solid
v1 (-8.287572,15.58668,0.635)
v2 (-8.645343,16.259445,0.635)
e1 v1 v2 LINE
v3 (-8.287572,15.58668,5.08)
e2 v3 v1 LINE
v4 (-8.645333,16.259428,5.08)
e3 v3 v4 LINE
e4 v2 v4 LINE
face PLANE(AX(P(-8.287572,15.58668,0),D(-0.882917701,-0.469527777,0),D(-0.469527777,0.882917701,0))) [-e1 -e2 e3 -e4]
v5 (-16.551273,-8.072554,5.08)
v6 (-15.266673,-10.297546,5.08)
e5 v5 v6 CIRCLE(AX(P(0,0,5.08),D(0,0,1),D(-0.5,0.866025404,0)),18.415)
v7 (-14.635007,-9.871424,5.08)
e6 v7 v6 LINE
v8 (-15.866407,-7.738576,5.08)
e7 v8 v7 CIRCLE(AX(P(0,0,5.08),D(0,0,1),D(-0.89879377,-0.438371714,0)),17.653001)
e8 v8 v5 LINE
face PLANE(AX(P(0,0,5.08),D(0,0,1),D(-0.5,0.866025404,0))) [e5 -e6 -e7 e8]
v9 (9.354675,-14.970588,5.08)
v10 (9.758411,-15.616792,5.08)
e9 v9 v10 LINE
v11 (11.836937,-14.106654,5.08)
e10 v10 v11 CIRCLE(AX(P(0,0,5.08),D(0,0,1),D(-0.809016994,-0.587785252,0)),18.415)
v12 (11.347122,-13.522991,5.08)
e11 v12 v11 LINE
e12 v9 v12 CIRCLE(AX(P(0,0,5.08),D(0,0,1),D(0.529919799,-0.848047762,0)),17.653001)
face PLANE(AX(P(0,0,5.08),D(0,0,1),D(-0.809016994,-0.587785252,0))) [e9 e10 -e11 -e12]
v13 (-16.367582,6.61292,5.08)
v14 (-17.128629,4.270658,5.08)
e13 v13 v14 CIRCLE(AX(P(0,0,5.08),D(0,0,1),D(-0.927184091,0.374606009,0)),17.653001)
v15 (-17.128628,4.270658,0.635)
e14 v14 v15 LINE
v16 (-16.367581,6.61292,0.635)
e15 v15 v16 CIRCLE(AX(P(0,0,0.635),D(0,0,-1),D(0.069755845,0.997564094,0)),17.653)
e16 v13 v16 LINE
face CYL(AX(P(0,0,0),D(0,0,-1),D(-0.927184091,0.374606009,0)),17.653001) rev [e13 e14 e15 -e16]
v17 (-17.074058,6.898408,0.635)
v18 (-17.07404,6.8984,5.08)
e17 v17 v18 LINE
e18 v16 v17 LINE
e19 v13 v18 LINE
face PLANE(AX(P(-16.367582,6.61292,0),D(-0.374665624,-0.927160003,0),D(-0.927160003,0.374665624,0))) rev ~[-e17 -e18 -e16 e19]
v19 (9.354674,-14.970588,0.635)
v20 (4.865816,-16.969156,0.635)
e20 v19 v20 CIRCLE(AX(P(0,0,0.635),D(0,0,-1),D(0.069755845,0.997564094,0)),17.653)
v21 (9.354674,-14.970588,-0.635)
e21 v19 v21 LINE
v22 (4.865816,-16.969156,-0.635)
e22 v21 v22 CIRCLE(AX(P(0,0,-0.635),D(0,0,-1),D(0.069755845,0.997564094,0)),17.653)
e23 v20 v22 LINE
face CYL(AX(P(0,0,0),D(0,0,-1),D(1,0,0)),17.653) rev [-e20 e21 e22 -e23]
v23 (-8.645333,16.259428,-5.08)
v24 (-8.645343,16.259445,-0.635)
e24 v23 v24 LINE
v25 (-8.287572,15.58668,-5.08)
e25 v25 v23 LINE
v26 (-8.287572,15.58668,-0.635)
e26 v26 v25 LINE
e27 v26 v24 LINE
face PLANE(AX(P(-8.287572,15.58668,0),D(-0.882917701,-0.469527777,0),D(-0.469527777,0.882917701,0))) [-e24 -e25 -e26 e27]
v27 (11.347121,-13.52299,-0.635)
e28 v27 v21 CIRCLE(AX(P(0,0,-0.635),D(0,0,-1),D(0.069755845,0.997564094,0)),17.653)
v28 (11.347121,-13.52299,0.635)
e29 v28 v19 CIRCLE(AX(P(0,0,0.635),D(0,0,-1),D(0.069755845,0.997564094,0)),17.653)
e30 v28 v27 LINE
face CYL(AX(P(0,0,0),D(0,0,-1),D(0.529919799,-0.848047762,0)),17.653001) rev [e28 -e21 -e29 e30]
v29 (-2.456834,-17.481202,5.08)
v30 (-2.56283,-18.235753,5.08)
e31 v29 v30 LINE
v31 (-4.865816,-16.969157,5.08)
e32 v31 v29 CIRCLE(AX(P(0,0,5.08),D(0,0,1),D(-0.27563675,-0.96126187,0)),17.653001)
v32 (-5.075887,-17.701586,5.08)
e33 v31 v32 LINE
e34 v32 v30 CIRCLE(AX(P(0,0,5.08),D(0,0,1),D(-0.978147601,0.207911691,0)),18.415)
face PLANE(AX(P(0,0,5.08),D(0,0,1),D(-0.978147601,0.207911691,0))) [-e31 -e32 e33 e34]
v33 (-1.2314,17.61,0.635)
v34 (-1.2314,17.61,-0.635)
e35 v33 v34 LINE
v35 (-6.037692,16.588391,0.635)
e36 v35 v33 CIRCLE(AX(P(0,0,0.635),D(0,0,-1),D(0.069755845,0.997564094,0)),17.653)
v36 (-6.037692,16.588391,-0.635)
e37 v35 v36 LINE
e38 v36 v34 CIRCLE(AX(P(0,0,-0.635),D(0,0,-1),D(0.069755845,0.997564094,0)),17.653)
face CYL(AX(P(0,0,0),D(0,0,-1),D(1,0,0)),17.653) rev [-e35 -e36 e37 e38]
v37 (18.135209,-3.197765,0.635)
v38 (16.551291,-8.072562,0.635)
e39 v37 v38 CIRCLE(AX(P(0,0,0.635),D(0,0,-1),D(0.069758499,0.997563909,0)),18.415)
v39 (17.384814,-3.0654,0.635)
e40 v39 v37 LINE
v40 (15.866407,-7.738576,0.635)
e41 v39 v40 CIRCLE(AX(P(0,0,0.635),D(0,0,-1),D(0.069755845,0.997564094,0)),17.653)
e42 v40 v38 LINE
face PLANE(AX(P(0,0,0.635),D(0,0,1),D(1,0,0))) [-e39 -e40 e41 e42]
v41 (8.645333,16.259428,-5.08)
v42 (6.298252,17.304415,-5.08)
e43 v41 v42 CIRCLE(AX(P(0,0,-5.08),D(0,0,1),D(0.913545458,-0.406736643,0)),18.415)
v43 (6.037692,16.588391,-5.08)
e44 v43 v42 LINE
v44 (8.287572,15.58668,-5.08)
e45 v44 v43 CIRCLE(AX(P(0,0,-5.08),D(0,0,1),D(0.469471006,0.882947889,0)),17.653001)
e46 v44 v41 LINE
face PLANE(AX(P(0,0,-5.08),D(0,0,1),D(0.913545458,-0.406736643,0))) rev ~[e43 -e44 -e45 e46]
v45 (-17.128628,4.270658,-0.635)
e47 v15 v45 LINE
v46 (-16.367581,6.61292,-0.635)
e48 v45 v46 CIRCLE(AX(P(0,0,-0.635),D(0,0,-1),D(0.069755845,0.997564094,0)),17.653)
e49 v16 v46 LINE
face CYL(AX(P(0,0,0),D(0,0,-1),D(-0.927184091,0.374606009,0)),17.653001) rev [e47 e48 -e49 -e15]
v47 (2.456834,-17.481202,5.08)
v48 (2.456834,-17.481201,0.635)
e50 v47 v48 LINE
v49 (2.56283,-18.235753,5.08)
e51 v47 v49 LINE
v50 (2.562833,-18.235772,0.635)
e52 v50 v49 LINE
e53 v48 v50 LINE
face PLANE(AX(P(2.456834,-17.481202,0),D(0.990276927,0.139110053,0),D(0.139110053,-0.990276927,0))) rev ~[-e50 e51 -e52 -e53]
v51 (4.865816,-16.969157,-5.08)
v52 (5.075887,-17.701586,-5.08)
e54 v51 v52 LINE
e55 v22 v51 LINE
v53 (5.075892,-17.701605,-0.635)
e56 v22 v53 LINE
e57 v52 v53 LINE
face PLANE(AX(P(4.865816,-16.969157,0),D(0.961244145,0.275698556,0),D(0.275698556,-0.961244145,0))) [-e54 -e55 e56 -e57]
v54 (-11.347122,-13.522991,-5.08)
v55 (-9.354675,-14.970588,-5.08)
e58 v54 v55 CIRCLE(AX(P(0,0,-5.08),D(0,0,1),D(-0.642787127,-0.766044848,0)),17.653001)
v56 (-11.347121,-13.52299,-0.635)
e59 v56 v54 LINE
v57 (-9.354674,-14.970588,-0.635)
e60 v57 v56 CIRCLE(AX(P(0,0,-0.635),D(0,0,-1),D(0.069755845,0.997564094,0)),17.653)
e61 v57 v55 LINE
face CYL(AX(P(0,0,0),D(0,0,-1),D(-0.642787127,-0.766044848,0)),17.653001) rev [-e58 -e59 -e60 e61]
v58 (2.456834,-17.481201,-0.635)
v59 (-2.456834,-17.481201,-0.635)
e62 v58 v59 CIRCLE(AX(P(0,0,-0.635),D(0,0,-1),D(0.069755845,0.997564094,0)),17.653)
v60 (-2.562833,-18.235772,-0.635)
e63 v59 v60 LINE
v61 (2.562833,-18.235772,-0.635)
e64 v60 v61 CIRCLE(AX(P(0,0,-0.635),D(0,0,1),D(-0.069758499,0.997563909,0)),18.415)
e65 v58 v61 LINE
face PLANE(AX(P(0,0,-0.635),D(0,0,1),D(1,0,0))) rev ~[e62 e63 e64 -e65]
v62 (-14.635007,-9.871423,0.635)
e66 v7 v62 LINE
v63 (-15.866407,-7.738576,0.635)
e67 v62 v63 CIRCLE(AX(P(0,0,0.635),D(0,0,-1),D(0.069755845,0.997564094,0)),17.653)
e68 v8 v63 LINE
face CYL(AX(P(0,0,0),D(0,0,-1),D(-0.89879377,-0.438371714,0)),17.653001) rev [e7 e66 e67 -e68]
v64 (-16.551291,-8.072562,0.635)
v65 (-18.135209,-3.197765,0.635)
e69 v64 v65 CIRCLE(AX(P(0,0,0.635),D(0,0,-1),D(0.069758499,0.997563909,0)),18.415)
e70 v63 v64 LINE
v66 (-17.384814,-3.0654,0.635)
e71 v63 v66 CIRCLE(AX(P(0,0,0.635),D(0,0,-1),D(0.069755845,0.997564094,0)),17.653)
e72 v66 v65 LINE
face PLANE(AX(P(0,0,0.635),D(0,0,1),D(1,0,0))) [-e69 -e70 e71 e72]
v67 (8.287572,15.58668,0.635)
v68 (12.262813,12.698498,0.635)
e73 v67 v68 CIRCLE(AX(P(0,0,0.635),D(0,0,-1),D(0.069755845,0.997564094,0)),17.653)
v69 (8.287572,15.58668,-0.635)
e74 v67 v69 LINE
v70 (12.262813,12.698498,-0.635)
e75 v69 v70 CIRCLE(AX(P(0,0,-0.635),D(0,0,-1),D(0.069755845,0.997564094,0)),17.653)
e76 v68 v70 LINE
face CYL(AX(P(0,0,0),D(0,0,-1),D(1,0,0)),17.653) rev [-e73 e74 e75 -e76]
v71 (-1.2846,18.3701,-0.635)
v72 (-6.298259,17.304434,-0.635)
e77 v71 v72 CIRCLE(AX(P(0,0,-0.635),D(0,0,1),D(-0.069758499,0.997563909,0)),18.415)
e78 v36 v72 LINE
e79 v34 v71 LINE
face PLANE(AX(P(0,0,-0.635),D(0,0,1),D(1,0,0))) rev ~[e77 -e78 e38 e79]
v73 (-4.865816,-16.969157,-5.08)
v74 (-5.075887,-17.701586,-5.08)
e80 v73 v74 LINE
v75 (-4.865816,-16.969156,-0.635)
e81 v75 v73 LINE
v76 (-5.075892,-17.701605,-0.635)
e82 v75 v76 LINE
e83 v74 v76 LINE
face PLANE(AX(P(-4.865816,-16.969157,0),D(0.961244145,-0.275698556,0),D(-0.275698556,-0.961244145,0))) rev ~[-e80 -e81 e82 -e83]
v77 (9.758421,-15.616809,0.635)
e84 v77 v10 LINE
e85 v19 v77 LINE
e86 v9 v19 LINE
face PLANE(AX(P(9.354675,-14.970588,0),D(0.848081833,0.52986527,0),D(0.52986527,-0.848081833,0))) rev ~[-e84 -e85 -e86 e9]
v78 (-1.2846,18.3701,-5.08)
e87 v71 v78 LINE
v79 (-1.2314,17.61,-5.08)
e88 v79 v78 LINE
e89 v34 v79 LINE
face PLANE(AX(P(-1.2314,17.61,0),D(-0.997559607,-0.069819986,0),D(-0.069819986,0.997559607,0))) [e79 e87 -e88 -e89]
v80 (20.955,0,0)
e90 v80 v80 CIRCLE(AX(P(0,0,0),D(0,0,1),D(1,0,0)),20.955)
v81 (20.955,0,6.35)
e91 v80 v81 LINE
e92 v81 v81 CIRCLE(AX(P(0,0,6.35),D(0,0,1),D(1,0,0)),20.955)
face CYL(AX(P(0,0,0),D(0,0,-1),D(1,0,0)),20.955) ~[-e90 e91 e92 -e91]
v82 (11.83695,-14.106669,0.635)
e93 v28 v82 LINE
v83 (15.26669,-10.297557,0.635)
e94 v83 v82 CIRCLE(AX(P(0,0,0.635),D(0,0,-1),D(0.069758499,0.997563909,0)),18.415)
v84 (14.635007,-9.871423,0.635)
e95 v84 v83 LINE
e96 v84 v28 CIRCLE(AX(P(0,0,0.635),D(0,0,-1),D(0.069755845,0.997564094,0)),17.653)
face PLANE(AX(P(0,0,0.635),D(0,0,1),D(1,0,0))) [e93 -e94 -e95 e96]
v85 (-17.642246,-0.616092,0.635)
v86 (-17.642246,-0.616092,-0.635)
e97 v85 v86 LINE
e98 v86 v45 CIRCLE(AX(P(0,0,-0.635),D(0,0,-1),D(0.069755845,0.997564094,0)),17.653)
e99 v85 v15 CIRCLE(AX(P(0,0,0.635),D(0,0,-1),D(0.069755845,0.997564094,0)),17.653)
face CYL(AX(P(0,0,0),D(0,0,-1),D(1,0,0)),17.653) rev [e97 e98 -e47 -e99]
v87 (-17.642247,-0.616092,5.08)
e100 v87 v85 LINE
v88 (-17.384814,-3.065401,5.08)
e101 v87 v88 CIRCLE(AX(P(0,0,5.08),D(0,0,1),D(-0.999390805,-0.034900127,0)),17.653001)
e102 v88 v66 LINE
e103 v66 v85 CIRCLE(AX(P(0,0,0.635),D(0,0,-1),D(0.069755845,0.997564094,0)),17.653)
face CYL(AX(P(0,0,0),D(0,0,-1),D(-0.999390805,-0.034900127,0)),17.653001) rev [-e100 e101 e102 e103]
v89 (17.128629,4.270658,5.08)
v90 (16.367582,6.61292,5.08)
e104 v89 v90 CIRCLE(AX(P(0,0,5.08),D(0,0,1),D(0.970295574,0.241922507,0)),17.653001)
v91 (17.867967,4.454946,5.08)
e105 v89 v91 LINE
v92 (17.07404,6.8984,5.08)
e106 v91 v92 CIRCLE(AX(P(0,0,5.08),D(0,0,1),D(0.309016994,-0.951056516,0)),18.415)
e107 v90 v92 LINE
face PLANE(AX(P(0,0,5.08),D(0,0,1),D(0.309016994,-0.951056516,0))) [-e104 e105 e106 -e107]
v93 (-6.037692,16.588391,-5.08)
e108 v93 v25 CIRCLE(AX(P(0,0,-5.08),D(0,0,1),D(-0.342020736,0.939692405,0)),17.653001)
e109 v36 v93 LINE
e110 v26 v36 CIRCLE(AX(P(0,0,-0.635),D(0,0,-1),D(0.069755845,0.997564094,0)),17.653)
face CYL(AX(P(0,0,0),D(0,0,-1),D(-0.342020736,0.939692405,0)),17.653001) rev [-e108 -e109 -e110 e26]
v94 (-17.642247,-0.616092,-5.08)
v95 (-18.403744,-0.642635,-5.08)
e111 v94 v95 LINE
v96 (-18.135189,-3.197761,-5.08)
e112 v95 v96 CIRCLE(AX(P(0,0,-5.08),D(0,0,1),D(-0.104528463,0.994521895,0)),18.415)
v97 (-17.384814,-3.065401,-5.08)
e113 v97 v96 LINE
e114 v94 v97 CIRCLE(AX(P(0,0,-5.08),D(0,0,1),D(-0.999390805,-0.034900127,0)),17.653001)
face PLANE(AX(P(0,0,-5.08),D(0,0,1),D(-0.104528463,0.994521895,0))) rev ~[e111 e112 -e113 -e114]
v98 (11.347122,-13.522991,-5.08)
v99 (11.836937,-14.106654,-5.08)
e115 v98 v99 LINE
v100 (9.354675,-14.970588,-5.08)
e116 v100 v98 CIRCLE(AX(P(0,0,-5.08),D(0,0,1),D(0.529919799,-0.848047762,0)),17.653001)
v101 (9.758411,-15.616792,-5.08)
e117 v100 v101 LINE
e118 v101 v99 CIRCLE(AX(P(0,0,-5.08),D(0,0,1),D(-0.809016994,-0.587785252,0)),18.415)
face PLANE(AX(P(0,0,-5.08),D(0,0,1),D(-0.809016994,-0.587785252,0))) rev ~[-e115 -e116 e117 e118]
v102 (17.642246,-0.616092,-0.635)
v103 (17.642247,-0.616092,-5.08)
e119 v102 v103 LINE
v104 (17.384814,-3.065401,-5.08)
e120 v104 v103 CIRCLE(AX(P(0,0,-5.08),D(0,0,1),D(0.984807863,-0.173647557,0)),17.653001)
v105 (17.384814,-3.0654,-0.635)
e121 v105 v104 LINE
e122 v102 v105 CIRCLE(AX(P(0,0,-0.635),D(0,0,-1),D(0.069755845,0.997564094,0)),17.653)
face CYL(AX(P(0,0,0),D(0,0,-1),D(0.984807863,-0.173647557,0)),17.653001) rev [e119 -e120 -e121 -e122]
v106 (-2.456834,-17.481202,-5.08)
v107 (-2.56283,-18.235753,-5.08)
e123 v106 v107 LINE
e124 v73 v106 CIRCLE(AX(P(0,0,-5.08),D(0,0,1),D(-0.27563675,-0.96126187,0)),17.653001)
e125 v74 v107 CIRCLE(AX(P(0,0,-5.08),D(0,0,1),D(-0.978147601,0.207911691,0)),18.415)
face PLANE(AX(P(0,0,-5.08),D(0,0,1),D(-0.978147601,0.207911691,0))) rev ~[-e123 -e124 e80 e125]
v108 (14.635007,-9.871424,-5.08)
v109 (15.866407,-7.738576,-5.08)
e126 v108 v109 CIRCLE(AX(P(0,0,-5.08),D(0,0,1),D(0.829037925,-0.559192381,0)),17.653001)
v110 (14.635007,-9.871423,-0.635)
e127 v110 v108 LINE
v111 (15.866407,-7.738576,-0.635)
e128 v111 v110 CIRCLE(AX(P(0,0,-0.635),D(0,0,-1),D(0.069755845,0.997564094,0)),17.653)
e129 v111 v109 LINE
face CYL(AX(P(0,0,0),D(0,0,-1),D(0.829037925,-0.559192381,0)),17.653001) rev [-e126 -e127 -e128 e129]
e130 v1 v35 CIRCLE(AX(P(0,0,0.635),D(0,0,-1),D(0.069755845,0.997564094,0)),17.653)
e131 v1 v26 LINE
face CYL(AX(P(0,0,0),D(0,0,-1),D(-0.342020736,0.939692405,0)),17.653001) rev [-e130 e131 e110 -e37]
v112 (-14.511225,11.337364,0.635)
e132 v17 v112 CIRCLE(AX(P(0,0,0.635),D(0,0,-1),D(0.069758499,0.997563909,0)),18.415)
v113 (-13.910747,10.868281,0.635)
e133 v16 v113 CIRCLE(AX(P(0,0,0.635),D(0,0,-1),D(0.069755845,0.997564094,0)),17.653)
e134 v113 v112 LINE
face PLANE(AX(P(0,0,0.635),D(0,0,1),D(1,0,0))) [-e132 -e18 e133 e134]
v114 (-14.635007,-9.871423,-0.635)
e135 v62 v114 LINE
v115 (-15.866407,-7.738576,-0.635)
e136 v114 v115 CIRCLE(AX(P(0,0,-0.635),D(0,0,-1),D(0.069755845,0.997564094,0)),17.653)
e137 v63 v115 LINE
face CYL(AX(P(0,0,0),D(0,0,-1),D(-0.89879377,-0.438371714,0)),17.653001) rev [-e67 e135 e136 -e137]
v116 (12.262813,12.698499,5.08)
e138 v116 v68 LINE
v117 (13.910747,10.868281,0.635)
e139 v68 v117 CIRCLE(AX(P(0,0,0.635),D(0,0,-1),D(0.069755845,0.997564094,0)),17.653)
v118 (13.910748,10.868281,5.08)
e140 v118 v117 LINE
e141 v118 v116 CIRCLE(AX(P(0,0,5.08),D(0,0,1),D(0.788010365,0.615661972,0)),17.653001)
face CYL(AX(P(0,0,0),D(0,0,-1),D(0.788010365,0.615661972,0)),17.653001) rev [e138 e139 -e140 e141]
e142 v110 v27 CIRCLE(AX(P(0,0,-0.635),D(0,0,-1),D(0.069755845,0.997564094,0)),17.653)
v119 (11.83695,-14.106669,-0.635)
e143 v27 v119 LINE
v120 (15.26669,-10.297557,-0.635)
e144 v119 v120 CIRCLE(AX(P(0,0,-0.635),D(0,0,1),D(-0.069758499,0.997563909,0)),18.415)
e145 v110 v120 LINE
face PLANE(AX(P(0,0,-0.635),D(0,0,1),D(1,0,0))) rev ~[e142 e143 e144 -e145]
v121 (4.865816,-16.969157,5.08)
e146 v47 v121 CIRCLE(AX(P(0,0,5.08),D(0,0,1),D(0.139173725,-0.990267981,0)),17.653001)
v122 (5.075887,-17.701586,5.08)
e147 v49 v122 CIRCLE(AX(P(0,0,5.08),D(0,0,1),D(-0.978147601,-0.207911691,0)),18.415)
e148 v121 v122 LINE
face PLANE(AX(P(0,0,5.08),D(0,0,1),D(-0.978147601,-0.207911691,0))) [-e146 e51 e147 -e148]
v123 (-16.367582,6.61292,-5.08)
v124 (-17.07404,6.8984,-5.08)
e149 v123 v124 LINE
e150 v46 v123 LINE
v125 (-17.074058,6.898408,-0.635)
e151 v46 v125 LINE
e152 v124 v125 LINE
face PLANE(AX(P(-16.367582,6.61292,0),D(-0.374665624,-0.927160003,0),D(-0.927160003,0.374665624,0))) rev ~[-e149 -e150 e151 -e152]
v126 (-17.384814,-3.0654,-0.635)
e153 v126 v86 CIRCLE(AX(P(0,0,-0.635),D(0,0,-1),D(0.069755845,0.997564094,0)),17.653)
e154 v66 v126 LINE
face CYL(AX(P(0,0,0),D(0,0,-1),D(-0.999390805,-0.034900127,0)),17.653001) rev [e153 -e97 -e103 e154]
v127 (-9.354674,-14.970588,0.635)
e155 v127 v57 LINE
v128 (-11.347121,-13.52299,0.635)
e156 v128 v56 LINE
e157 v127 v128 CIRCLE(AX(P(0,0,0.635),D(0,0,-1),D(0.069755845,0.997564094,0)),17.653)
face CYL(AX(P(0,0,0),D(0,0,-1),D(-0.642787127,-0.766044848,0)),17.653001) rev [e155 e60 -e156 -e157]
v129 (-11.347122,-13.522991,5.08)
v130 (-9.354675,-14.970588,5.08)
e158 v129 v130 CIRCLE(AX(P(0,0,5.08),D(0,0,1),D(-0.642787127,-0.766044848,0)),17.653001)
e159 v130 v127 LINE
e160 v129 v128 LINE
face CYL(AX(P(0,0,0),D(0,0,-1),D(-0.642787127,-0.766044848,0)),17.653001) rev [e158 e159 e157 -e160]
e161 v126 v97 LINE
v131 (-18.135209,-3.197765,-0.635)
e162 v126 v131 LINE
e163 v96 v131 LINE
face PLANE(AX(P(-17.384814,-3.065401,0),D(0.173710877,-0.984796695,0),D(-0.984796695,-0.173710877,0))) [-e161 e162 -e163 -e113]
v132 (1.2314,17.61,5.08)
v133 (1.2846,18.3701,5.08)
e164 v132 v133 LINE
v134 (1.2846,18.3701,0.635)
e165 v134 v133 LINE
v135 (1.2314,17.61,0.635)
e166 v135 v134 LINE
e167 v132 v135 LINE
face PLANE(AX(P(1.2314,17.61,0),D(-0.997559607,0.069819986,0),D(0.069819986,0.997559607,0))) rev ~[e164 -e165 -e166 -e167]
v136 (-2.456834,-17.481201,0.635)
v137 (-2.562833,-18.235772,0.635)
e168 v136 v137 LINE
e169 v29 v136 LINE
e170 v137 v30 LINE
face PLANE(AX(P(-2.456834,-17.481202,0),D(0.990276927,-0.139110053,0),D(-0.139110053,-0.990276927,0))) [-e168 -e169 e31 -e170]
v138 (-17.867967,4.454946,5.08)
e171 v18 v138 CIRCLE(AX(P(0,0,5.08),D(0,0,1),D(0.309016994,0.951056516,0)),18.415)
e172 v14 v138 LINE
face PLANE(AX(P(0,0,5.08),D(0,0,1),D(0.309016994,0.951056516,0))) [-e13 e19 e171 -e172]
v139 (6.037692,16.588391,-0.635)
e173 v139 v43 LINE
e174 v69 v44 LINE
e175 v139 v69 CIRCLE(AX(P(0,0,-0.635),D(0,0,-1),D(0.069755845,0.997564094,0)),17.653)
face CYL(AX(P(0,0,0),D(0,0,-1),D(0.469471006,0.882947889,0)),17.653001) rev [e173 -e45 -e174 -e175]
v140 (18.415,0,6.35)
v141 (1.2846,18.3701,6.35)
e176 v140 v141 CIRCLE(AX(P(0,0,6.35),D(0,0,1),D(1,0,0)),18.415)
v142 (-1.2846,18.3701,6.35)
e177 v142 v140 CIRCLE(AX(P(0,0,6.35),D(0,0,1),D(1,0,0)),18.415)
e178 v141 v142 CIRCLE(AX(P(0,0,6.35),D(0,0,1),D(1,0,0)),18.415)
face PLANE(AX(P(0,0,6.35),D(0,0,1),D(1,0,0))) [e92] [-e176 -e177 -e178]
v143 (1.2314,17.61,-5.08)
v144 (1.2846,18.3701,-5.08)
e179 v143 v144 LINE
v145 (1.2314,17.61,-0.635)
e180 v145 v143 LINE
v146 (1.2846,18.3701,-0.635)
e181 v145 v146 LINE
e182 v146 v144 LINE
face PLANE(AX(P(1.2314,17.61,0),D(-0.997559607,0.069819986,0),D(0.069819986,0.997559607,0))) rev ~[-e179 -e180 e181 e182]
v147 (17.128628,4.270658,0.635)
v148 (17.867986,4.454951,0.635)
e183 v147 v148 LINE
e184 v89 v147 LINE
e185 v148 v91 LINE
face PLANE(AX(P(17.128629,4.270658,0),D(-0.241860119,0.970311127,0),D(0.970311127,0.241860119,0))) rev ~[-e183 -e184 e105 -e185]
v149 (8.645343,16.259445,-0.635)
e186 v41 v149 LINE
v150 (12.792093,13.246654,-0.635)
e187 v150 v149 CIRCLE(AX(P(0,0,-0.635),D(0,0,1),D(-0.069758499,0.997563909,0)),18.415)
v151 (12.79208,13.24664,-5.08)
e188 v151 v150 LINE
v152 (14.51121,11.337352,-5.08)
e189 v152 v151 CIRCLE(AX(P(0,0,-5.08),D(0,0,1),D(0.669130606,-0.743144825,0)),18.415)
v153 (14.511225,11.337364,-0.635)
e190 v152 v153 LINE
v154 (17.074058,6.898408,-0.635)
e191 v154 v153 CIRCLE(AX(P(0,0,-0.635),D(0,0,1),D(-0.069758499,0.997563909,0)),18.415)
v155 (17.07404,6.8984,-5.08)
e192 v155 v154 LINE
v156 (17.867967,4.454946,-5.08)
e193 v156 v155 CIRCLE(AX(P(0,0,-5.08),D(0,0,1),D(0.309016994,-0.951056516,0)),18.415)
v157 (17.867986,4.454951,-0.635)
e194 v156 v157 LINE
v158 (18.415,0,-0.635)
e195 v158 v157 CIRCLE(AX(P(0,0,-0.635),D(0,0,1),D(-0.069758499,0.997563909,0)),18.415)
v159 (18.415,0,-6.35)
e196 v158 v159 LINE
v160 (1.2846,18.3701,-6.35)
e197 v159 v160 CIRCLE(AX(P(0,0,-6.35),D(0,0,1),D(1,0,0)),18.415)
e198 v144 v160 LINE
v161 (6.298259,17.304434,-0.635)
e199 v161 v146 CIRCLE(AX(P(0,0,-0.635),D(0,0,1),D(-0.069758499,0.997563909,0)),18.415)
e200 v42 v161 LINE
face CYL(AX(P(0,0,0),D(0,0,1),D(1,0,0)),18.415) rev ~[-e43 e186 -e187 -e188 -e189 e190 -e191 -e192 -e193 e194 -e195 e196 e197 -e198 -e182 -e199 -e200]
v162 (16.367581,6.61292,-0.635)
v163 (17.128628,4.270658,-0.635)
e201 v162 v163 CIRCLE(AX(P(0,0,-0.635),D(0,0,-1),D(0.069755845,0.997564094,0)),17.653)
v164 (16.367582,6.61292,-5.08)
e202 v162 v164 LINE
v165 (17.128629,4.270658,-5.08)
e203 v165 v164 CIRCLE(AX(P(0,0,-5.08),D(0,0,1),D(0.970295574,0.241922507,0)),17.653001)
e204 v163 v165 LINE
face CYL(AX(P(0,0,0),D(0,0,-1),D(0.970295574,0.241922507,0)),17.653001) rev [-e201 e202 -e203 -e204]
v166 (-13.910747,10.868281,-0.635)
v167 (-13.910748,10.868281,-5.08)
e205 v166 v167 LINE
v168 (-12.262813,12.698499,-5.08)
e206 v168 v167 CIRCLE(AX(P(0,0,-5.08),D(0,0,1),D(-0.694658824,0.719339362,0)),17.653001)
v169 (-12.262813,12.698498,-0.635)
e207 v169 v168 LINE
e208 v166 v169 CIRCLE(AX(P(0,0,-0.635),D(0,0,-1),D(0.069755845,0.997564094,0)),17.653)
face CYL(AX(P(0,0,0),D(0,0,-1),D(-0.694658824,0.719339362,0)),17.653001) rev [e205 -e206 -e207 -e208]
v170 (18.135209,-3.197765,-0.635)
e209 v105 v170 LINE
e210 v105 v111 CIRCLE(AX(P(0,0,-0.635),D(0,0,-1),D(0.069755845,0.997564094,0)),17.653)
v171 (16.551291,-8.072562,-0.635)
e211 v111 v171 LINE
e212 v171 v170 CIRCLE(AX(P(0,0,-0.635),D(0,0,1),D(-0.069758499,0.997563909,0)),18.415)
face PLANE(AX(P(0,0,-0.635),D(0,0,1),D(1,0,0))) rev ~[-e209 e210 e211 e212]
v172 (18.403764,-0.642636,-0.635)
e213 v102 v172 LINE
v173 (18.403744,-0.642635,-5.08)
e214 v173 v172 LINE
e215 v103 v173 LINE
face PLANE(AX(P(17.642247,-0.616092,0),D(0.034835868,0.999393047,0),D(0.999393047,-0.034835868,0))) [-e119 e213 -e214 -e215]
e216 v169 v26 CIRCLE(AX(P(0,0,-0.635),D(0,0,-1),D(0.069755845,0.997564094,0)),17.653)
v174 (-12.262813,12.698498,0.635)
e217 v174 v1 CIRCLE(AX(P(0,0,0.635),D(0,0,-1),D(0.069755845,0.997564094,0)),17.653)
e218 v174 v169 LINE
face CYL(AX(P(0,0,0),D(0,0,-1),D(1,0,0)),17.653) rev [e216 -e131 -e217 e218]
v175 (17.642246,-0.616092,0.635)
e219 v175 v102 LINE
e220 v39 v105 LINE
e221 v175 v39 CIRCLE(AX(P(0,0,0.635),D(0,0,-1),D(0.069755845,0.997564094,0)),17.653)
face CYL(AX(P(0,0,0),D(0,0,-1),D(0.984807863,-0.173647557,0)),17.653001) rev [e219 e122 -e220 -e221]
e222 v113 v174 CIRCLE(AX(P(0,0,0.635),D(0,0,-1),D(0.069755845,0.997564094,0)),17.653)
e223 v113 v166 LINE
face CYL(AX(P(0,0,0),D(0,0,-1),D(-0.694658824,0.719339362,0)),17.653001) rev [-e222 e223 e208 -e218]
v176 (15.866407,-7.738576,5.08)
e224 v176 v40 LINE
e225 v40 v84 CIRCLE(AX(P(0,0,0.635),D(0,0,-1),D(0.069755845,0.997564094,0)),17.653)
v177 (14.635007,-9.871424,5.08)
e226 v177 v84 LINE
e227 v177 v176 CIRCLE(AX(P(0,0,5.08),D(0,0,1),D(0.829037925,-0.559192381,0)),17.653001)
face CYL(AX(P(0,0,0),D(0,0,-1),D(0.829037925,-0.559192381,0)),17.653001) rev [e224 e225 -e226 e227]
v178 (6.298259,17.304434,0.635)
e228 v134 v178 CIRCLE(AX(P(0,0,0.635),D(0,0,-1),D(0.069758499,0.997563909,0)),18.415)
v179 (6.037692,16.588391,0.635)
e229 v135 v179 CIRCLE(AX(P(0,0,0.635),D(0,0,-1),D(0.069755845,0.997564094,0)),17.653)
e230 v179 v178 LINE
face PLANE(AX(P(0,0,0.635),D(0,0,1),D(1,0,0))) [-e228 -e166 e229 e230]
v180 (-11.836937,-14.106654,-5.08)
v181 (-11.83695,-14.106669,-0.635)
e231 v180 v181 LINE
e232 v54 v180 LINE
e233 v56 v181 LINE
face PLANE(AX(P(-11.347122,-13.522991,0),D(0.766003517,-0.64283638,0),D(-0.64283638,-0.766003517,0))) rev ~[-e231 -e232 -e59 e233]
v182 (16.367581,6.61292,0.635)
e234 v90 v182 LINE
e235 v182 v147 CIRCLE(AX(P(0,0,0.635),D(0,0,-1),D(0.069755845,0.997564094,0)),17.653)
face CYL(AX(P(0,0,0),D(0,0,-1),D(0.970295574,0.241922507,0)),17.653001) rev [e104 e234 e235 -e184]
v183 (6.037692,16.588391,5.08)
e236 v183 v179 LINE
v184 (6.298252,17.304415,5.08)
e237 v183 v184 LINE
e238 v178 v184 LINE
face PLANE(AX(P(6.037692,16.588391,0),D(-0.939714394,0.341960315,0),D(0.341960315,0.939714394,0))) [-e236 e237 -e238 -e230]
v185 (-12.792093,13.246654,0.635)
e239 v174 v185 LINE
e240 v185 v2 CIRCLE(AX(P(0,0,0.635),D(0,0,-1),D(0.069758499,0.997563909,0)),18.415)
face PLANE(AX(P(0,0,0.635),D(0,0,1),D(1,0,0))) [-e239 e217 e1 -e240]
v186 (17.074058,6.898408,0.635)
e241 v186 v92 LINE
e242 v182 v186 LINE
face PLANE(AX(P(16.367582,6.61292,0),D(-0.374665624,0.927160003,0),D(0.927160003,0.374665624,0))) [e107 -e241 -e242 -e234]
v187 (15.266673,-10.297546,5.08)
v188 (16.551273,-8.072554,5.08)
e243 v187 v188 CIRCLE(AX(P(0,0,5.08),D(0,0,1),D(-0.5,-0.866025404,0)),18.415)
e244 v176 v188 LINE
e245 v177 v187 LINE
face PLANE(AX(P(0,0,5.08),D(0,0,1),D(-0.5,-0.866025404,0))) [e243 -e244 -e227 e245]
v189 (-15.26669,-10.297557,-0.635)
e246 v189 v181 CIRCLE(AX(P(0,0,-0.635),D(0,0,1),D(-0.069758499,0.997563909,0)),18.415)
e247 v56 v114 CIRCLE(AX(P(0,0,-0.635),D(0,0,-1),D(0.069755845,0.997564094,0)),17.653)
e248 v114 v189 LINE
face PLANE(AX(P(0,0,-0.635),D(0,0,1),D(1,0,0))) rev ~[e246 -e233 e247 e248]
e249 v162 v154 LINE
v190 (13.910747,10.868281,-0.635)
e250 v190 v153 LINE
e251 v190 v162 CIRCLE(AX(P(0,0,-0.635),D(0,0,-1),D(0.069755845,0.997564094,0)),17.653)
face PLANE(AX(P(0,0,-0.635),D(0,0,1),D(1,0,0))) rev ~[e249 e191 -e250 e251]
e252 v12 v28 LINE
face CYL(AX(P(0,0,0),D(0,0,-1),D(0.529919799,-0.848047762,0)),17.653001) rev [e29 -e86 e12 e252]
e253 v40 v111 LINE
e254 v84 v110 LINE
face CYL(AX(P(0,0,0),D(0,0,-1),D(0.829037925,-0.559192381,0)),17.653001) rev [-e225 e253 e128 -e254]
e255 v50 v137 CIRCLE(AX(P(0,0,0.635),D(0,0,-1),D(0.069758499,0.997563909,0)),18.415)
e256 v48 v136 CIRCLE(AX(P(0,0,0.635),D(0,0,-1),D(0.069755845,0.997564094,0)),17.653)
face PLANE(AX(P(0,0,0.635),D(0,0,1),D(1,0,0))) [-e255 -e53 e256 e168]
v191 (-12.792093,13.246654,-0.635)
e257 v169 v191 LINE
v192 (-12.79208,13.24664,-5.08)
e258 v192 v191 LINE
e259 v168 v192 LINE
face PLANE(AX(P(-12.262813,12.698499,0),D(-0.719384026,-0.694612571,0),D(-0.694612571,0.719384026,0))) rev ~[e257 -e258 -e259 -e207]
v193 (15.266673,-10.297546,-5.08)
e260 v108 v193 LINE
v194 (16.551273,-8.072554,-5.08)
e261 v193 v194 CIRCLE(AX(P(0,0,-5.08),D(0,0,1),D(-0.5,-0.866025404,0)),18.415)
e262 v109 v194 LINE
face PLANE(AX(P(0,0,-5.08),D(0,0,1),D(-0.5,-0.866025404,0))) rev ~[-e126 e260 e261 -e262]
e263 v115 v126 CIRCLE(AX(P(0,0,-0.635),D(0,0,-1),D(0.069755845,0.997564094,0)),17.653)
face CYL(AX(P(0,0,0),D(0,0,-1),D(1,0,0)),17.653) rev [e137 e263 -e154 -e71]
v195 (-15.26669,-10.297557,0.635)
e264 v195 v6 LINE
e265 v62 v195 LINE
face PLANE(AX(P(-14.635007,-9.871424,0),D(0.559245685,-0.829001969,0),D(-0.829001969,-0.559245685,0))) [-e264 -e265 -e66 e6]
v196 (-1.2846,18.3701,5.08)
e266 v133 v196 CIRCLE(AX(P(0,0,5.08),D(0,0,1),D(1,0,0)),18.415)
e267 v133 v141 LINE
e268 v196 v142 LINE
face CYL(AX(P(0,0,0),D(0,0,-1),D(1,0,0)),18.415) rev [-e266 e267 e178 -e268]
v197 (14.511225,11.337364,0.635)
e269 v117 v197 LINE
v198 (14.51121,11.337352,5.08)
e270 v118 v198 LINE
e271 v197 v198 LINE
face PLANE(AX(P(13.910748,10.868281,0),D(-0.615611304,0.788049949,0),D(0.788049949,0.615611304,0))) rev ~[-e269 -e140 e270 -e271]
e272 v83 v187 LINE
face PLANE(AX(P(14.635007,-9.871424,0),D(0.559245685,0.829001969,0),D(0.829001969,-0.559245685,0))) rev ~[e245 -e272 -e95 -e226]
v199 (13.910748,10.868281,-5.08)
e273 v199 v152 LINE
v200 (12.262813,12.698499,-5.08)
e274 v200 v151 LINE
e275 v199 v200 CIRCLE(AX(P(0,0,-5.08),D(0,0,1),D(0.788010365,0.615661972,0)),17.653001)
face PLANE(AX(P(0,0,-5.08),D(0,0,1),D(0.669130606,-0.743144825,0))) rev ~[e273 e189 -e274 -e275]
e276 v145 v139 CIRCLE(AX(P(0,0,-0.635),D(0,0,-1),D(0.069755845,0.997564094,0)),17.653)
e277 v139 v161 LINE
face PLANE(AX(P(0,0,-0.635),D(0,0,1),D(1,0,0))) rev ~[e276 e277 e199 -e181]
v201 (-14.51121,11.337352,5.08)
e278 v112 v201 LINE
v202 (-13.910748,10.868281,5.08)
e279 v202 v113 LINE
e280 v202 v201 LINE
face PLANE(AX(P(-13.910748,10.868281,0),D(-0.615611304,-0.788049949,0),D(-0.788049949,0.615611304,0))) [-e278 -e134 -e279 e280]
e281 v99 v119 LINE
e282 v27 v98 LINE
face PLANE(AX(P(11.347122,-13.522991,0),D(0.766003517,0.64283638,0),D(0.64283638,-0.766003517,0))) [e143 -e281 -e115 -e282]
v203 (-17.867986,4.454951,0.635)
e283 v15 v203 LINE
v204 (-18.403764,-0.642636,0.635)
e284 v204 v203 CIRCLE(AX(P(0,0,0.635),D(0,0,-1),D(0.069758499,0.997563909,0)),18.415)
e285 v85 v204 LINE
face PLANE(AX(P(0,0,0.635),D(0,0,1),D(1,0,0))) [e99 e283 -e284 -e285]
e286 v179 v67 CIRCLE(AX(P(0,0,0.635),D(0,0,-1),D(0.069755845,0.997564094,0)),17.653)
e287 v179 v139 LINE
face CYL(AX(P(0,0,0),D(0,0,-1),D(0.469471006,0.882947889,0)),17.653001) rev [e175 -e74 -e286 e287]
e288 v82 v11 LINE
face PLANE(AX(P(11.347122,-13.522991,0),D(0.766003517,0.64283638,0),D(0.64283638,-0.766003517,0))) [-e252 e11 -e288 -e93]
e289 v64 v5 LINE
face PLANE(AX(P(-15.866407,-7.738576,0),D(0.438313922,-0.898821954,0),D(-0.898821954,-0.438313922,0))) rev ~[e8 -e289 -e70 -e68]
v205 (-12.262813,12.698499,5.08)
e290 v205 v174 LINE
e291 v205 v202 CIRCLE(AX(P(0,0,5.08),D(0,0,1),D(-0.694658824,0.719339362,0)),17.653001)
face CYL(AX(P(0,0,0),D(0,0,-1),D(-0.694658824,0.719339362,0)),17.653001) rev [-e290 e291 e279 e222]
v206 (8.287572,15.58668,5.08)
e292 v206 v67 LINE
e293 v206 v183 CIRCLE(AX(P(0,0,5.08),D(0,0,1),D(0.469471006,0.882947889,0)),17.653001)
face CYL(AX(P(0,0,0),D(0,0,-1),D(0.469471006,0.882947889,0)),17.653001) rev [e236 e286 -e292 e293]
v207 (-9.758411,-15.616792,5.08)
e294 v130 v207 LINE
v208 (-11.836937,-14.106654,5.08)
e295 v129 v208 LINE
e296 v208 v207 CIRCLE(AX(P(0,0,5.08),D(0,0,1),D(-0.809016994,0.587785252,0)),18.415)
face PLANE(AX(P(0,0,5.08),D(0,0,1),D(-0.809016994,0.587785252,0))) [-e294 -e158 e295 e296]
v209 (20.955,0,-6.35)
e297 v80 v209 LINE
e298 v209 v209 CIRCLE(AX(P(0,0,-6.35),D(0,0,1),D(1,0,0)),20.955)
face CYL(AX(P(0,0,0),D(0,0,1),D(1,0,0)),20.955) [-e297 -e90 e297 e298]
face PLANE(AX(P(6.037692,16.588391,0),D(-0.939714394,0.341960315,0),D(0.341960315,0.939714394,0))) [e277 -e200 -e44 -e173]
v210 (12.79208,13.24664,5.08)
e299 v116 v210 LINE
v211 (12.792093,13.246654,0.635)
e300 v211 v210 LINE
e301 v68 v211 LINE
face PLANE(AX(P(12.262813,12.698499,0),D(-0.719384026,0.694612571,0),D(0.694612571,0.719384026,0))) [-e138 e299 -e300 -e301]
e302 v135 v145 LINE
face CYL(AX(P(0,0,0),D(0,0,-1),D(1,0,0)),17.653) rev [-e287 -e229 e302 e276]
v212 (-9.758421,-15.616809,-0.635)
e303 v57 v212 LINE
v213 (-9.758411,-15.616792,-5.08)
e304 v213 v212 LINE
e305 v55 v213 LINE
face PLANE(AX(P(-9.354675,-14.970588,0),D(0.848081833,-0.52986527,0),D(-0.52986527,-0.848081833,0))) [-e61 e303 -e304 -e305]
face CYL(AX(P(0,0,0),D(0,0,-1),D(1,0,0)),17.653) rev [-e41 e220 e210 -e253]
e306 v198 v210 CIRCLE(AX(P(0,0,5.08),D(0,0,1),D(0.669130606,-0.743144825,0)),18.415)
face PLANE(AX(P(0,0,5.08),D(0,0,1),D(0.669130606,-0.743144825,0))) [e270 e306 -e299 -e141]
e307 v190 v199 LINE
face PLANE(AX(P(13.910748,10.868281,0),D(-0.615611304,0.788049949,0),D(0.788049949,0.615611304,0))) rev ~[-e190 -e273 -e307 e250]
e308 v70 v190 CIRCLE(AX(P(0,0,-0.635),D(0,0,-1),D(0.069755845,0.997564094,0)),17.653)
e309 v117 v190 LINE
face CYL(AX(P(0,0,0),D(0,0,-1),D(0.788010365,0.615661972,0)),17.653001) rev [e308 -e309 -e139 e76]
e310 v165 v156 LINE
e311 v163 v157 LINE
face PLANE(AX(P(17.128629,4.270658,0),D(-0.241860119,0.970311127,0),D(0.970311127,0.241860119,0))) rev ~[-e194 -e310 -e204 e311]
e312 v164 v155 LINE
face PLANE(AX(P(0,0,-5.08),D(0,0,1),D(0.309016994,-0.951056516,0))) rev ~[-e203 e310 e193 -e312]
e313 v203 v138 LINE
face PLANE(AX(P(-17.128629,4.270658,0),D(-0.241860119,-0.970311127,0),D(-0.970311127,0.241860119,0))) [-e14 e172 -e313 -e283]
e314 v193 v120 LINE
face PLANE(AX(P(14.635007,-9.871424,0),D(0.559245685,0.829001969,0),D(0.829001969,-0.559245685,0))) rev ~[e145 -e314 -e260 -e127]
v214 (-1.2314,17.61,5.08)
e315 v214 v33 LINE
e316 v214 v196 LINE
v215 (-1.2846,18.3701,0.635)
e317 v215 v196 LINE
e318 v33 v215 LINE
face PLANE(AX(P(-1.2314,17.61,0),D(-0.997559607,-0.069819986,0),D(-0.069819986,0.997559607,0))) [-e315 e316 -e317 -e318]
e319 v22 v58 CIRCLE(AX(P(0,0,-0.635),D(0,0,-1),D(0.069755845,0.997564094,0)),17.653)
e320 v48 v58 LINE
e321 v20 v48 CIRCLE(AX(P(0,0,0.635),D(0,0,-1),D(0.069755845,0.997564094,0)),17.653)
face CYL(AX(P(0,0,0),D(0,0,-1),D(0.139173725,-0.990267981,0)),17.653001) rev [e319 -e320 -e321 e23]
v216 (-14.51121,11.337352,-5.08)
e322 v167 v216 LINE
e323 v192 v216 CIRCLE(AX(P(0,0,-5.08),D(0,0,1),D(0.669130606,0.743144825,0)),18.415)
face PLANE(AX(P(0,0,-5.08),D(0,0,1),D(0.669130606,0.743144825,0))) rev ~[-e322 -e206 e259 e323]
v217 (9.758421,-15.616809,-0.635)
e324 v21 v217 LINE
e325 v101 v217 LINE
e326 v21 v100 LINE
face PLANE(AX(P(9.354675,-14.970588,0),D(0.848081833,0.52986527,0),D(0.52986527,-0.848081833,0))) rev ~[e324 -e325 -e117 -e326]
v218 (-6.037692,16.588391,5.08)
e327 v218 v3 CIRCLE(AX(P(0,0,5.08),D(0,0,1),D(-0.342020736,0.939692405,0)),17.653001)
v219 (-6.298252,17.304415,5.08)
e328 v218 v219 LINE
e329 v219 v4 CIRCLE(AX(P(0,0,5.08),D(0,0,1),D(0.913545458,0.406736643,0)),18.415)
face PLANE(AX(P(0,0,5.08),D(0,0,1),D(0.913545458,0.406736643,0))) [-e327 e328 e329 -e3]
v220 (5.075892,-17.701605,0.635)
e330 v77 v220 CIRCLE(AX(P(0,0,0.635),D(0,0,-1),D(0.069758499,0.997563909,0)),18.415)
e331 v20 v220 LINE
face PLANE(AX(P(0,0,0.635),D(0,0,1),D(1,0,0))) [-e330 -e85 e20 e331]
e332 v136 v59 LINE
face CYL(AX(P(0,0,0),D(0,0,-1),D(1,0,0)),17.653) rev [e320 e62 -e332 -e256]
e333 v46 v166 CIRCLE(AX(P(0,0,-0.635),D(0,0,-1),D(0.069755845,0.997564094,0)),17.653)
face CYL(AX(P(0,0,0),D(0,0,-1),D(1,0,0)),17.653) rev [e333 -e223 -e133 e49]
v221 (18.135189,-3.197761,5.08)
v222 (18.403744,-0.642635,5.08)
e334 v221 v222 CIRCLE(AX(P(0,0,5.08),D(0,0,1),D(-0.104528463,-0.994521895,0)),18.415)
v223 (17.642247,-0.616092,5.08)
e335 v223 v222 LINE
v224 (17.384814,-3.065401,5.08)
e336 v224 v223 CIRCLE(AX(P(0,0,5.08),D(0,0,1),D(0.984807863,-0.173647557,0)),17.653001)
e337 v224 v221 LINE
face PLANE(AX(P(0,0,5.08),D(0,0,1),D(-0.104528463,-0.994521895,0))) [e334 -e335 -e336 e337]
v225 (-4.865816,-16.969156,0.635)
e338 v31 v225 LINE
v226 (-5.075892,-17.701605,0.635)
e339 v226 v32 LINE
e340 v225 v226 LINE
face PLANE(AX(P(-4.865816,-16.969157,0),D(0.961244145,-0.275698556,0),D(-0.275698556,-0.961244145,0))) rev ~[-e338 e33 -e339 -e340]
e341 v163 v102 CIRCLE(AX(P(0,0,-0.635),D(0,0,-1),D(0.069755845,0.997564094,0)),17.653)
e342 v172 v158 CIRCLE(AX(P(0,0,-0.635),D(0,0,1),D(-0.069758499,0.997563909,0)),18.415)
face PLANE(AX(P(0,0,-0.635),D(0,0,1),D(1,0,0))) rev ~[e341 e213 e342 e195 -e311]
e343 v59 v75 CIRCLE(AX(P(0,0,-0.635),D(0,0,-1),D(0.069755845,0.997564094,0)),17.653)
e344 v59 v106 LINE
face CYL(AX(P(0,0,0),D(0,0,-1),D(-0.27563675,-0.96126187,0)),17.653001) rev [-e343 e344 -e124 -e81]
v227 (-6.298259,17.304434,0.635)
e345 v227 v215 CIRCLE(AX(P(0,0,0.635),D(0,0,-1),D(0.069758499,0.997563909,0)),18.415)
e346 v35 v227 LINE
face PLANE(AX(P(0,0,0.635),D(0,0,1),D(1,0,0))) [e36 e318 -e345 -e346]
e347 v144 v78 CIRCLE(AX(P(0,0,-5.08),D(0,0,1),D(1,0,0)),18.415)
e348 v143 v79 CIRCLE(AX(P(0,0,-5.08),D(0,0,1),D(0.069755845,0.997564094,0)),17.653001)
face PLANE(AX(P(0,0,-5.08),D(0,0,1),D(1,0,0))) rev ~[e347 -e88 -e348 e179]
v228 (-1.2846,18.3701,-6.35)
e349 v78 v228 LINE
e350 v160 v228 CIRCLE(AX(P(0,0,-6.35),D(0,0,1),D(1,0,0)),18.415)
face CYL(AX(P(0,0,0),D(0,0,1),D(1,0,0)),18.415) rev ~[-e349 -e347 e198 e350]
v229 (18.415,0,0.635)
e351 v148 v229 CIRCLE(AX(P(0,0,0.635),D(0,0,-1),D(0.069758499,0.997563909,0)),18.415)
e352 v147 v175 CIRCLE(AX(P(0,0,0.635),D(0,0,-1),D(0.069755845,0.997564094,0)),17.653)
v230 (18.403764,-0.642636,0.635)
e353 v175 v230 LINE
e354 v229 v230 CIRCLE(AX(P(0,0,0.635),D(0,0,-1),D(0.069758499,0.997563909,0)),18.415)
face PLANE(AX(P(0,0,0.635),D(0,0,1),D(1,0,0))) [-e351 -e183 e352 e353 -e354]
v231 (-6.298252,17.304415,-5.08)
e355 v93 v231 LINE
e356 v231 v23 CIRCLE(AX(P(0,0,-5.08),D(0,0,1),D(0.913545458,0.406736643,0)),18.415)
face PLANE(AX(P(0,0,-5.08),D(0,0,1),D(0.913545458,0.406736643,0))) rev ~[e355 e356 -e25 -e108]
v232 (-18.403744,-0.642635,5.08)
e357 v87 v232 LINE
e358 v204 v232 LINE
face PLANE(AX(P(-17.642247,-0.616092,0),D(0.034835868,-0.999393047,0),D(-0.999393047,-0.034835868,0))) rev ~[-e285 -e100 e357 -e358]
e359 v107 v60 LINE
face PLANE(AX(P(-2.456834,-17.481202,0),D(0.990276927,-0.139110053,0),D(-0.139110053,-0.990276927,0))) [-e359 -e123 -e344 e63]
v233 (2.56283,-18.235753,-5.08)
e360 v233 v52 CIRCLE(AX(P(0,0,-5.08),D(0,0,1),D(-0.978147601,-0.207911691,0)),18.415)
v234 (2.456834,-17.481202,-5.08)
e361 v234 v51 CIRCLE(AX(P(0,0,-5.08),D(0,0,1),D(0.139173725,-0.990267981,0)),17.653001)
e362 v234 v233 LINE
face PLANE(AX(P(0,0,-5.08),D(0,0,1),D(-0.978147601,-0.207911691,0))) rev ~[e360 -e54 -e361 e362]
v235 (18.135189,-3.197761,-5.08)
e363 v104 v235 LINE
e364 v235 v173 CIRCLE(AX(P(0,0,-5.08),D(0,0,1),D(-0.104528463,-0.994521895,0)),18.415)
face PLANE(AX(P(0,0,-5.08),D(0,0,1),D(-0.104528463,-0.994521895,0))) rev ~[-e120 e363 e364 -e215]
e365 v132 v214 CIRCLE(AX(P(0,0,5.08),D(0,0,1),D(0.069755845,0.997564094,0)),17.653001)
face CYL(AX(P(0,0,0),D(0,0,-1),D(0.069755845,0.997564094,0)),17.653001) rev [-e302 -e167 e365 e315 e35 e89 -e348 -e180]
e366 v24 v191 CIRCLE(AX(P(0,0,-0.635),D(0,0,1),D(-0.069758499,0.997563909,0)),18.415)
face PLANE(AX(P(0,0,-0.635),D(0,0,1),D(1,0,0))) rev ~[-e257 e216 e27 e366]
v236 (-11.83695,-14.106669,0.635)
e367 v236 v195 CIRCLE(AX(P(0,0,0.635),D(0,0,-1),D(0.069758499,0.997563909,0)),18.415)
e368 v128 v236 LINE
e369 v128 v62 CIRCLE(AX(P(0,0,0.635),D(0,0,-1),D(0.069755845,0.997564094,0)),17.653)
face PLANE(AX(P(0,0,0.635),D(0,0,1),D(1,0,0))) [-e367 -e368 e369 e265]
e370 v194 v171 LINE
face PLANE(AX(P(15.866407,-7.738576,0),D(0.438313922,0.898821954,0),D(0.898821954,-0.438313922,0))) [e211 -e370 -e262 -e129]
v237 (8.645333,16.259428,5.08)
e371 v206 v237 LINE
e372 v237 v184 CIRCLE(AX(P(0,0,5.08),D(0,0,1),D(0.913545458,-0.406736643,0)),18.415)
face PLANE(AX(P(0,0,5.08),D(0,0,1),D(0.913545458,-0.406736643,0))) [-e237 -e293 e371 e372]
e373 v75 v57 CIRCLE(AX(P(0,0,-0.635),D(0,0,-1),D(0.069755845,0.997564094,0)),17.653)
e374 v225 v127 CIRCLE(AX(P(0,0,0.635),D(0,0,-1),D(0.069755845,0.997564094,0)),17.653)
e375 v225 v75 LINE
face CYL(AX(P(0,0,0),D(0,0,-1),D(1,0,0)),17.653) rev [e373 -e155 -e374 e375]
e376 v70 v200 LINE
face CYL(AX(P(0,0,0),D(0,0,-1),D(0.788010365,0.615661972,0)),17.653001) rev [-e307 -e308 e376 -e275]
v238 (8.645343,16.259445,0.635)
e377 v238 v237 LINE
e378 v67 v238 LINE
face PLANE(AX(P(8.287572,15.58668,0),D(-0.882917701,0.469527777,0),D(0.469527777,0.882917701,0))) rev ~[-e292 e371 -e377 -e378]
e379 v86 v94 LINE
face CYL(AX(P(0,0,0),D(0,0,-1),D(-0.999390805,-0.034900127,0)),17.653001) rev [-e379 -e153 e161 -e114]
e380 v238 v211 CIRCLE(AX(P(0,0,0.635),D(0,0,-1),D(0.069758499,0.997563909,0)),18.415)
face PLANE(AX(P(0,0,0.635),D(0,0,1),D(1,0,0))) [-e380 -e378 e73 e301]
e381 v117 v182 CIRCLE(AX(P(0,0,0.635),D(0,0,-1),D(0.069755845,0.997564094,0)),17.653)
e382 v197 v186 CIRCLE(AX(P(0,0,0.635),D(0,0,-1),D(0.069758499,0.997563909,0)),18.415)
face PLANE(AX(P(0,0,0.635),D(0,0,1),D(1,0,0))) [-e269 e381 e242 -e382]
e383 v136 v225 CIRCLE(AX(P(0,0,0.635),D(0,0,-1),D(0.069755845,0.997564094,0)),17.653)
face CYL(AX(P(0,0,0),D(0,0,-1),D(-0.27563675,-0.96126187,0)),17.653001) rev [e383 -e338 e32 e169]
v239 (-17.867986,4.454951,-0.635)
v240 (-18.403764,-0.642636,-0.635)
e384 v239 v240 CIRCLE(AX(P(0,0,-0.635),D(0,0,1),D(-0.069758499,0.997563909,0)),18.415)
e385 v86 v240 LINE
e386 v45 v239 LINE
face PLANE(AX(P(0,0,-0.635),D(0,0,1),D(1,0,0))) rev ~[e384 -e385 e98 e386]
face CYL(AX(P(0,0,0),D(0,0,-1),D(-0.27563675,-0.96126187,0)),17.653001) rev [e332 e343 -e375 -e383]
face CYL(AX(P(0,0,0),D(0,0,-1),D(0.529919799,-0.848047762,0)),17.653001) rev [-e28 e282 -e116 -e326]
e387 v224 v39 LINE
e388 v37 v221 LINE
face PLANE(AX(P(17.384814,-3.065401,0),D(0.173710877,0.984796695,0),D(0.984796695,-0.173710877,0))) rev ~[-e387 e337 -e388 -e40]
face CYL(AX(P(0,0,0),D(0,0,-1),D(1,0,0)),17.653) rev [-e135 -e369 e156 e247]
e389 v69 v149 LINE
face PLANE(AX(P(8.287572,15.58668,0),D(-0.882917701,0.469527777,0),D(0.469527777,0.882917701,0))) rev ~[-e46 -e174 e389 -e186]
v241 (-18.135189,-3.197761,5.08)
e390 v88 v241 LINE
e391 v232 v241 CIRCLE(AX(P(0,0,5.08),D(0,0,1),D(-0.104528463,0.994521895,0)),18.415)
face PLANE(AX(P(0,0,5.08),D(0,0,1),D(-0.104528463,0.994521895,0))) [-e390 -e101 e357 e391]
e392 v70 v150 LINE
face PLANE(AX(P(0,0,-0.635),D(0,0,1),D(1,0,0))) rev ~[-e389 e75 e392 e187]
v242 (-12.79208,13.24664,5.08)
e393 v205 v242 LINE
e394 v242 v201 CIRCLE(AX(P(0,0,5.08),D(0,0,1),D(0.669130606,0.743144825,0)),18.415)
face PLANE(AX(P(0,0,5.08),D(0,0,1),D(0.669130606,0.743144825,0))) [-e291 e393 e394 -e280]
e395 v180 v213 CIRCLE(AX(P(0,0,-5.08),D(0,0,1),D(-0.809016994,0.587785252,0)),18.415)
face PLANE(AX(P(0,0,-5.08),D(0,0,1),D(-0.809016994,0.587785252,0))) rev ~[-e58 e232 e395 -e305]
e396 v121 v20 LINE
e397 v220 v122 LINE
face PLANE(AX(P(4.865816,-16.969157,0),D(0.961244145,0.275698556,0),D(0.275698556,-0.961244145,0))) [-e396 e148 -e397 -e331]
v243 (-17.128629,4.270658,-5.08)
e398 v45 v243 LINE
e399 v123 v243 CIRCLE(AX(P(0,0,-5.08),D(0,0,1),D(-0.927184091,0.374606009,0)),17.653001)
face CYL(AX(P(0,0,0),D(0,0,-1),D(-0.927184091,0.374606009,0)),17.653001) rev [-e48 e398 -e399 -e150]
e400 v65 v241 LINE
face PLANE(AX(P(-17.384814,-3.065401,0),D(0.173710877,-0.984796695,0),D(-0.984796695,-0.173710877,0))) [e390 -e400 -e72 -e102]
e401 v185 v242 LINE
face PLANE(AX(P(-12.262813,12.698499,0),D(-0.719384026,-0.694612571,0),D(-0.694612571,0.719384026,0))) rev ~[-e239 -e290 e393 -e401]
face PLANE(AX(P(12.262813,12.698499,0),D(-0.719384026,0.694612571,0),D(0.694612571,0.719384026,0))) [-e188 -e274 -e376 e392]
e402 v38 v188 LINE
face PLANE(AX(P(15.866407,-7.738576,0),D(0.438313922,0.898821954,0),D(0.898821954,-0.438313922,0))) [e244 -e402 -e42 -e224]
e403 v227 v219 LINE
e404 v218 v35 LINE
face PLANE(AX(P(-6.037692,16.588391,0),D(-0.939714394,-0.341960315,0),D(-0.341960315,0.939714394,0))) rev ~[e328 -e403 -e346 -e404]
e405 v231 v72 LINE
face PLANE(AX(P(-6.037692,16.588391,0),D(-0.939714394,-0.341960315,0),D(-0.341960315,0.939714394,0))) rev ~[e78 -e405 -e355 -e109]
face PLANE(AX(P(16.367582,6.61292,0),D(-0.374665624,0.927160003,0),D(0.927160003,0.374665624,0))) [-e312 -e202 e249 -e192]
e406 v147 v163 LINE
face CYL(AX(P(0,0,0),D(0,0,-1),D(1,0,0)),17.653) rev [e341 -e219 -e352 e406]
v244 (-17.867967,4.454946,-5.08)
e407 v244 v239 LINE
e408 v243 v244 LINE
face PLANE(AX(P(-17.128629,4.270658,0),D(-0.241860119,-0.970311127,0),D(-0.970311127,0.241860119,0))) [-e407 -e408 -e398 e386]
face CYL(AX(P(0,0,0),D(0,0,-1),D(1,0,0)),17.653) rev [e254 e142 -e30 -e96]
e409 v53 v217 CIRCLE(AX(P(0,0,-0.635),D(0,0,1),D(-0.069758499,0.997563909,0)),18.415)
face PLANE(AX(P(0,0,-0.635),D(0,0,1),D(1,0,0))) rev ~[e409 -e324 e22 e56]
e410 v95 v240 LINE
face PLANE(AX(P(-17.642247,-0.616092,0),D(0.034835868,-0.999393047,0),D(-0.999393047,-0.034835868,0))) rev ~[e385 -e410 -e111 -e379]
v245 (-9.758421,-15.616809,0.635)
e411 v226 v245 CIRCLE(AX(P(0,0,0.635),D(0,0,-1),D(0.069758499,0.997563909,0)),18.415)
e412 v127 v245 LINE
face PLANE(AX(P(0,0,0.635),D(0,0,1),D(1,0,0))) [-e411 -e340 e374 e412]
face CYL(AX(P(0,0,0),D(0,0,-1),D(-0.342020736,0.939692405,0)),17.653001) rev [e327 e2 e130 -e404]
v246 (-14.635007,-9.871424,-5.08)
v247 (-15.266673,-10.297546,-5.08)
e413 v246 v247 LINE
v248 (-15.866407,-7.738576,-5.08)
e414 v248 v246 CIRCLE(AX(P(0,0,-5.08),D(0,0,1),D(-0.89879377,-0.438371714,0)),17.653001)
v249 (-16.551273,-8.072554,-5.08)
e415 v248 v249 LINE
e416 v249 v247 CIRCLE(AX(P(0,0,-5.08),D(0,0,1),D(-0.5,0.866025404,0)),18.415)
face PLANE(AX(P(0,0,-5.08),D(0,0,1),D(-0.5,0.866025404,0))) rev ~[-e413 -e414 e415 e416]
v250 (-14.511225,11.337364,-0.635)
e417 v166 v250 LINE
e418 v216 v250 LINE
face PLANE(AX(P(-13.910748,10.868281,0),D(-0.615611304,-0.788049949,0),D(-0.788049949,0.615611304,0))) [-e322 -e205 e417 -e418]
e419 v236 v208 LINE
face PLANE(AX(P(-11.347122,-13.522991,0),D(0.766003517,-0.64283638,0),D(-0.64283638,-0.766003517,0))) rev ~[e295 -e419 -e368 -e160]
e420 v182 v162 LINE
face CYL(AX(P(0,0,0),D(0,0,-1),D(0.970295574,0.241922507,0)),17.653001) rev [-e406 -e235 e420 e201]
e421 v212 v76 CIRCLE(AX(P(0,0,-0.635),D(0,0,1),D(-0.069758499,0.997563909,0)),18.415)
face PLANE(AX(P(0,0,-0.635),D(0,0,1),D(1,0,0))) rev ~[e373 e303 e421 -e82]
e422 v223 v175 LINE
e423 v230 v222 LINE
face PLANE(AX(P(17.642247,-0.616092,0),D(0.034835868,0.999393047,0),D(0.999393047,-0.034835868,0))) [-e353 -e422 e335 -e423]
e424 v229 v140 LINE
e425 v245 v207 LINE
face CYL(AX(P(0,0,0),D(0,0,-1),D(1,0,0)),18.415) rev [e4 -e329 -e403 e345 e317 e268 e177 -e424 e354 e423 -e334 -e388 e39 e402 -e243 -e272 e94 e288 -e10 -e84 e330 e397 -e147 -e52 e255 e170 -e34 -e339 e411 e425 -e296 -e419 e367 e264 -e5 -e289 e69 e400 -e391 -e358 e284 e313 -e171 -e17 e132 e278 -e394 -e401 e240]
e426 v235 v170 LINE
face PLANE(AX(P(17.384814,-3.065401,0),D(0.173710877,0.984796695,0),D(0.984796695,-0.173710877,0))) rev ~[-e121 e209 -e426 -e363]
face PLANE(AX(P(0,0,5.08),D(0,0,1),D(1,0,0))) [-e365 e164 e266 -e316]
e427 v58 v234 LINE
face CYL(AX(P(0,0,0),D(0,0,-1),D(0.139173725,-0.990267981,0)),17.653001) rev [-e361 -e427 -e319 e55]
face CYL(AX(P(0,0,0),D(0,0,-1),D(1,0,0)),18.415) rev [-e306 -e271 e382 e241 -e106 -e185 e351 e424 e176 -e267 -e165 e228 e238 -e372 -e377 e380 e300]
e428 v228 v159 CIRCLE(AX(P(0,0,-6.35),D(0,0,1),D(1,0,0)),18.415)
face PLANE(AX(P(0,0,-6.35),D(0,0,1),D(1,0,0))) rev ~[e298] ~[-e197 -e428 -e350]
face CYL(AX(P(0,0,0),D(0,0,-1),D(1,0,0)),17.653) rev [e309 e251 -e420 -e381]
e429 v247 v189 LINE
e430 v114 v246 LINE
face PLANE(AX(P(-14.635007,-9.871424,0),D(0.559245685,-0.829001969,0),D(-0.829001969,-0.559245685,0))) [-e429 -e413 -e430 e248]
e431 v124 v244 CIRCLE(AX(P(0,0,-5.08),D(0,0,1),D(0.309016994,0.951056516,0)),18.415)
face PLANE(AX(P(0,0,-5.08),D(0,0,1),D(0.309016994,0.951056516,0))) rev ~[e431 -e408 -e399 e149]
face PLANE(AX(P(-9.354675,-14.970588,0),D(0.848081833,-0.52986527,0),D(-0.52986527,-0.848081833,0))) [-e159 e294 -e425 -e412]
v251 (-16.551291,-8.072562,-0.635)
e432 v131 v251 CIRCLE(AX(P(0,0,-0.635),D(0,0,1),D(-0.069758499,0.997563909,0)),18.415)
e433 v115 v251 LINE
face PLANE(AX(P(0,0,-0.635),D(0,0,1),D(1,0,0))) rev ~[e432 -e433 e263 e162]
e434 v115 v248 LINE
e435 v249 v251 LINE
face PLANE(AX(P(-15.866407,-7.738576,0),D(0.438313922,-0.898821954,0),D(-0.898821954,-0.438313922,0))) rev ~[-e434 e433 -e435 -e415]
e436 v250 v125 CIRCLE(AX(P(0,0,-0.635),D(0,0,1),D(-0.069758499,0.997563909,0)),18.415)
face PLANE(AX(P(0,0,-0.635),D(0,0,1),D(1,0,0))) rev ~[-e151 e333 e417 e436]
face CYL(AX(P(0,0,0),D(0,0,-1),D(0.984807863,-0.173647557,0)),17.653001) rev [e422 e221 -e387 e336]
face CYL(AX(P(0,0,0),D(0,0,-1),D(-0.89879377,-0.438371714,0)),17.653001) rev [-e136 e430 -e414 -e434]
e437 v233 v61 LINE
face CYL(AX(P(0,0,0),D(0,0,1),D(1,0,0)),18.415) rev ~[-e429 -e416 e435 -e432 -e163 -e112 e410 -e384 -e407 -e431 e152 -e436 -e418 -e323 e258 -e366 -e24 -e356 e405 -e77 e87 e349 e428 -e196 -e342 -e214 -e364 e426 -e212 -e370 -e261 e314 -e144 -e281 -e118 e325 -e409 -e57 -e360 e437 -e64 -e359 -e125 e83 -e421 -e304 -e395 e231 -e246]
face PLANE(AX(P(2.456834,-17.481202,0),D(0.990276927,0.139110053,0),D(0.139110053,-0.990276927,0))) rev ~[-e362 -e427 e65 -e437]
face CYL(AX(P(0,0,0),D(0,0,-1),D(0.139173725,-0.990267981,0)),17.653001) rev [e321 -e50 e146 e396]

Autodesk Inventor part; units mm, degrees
ref_plane "YZ Plane" through (0, 0, 0) normal (1, 0, 0) x (0, 1, 0)
ref_plane "XZ Plane" through (0, 0, 0) normal (0, 1, 0) x (-1, 0, 0)
ref_plane "XY Plane" through (0, 0, 0) normal (0, 0, 1) x (1, 0, 0)
sketch "Sketch1" plane through (0, 0, 0) normal (0, 0, 1) x (1, 0, 0)
  circle A0 centre (0, 0) radius 20.955
  circle A1 centre (0, 0) radius 18.415
  line L0 (-1.2314, 17.61) -> (-1.2846, 18.3701)
  line L1 (1.2314, 17.61) -> (1.2846, 18.3701)
  line L2 (0, 0) -> (0, 24.6774) construction
  arc A2 (1.2314, 17.61) -> (-1.2314, 17.61) centre (0, 0) ccw
  circle A3 centre (0, 0) radius 17.653
  dimension "d0" = 41.91
  dimension "d1" = 2.54
  dimension "d4" = 4
  dimension "d5" = 4
  dimension "d7" = 0.762
  dimension "d13" = 0.762
extrude "Extrusion1" add sketch "Sketch1" along normal mid plane 12.7
extrude "Extrusion2" add sketch "Sketch1" along normal mid plane 10.16 contours L1 A2 L0 A1
pattern_circular "Circular Pattern1" count 15 over 360 about axis through (0, 0, 0) along (0, 0, 1) of "Extrusion2"
extrude "Extrusion3" add sketch "Sketch1" along normal mid plane 1.27 contours A1 L0 A3 L1
properties part number "Eh"
